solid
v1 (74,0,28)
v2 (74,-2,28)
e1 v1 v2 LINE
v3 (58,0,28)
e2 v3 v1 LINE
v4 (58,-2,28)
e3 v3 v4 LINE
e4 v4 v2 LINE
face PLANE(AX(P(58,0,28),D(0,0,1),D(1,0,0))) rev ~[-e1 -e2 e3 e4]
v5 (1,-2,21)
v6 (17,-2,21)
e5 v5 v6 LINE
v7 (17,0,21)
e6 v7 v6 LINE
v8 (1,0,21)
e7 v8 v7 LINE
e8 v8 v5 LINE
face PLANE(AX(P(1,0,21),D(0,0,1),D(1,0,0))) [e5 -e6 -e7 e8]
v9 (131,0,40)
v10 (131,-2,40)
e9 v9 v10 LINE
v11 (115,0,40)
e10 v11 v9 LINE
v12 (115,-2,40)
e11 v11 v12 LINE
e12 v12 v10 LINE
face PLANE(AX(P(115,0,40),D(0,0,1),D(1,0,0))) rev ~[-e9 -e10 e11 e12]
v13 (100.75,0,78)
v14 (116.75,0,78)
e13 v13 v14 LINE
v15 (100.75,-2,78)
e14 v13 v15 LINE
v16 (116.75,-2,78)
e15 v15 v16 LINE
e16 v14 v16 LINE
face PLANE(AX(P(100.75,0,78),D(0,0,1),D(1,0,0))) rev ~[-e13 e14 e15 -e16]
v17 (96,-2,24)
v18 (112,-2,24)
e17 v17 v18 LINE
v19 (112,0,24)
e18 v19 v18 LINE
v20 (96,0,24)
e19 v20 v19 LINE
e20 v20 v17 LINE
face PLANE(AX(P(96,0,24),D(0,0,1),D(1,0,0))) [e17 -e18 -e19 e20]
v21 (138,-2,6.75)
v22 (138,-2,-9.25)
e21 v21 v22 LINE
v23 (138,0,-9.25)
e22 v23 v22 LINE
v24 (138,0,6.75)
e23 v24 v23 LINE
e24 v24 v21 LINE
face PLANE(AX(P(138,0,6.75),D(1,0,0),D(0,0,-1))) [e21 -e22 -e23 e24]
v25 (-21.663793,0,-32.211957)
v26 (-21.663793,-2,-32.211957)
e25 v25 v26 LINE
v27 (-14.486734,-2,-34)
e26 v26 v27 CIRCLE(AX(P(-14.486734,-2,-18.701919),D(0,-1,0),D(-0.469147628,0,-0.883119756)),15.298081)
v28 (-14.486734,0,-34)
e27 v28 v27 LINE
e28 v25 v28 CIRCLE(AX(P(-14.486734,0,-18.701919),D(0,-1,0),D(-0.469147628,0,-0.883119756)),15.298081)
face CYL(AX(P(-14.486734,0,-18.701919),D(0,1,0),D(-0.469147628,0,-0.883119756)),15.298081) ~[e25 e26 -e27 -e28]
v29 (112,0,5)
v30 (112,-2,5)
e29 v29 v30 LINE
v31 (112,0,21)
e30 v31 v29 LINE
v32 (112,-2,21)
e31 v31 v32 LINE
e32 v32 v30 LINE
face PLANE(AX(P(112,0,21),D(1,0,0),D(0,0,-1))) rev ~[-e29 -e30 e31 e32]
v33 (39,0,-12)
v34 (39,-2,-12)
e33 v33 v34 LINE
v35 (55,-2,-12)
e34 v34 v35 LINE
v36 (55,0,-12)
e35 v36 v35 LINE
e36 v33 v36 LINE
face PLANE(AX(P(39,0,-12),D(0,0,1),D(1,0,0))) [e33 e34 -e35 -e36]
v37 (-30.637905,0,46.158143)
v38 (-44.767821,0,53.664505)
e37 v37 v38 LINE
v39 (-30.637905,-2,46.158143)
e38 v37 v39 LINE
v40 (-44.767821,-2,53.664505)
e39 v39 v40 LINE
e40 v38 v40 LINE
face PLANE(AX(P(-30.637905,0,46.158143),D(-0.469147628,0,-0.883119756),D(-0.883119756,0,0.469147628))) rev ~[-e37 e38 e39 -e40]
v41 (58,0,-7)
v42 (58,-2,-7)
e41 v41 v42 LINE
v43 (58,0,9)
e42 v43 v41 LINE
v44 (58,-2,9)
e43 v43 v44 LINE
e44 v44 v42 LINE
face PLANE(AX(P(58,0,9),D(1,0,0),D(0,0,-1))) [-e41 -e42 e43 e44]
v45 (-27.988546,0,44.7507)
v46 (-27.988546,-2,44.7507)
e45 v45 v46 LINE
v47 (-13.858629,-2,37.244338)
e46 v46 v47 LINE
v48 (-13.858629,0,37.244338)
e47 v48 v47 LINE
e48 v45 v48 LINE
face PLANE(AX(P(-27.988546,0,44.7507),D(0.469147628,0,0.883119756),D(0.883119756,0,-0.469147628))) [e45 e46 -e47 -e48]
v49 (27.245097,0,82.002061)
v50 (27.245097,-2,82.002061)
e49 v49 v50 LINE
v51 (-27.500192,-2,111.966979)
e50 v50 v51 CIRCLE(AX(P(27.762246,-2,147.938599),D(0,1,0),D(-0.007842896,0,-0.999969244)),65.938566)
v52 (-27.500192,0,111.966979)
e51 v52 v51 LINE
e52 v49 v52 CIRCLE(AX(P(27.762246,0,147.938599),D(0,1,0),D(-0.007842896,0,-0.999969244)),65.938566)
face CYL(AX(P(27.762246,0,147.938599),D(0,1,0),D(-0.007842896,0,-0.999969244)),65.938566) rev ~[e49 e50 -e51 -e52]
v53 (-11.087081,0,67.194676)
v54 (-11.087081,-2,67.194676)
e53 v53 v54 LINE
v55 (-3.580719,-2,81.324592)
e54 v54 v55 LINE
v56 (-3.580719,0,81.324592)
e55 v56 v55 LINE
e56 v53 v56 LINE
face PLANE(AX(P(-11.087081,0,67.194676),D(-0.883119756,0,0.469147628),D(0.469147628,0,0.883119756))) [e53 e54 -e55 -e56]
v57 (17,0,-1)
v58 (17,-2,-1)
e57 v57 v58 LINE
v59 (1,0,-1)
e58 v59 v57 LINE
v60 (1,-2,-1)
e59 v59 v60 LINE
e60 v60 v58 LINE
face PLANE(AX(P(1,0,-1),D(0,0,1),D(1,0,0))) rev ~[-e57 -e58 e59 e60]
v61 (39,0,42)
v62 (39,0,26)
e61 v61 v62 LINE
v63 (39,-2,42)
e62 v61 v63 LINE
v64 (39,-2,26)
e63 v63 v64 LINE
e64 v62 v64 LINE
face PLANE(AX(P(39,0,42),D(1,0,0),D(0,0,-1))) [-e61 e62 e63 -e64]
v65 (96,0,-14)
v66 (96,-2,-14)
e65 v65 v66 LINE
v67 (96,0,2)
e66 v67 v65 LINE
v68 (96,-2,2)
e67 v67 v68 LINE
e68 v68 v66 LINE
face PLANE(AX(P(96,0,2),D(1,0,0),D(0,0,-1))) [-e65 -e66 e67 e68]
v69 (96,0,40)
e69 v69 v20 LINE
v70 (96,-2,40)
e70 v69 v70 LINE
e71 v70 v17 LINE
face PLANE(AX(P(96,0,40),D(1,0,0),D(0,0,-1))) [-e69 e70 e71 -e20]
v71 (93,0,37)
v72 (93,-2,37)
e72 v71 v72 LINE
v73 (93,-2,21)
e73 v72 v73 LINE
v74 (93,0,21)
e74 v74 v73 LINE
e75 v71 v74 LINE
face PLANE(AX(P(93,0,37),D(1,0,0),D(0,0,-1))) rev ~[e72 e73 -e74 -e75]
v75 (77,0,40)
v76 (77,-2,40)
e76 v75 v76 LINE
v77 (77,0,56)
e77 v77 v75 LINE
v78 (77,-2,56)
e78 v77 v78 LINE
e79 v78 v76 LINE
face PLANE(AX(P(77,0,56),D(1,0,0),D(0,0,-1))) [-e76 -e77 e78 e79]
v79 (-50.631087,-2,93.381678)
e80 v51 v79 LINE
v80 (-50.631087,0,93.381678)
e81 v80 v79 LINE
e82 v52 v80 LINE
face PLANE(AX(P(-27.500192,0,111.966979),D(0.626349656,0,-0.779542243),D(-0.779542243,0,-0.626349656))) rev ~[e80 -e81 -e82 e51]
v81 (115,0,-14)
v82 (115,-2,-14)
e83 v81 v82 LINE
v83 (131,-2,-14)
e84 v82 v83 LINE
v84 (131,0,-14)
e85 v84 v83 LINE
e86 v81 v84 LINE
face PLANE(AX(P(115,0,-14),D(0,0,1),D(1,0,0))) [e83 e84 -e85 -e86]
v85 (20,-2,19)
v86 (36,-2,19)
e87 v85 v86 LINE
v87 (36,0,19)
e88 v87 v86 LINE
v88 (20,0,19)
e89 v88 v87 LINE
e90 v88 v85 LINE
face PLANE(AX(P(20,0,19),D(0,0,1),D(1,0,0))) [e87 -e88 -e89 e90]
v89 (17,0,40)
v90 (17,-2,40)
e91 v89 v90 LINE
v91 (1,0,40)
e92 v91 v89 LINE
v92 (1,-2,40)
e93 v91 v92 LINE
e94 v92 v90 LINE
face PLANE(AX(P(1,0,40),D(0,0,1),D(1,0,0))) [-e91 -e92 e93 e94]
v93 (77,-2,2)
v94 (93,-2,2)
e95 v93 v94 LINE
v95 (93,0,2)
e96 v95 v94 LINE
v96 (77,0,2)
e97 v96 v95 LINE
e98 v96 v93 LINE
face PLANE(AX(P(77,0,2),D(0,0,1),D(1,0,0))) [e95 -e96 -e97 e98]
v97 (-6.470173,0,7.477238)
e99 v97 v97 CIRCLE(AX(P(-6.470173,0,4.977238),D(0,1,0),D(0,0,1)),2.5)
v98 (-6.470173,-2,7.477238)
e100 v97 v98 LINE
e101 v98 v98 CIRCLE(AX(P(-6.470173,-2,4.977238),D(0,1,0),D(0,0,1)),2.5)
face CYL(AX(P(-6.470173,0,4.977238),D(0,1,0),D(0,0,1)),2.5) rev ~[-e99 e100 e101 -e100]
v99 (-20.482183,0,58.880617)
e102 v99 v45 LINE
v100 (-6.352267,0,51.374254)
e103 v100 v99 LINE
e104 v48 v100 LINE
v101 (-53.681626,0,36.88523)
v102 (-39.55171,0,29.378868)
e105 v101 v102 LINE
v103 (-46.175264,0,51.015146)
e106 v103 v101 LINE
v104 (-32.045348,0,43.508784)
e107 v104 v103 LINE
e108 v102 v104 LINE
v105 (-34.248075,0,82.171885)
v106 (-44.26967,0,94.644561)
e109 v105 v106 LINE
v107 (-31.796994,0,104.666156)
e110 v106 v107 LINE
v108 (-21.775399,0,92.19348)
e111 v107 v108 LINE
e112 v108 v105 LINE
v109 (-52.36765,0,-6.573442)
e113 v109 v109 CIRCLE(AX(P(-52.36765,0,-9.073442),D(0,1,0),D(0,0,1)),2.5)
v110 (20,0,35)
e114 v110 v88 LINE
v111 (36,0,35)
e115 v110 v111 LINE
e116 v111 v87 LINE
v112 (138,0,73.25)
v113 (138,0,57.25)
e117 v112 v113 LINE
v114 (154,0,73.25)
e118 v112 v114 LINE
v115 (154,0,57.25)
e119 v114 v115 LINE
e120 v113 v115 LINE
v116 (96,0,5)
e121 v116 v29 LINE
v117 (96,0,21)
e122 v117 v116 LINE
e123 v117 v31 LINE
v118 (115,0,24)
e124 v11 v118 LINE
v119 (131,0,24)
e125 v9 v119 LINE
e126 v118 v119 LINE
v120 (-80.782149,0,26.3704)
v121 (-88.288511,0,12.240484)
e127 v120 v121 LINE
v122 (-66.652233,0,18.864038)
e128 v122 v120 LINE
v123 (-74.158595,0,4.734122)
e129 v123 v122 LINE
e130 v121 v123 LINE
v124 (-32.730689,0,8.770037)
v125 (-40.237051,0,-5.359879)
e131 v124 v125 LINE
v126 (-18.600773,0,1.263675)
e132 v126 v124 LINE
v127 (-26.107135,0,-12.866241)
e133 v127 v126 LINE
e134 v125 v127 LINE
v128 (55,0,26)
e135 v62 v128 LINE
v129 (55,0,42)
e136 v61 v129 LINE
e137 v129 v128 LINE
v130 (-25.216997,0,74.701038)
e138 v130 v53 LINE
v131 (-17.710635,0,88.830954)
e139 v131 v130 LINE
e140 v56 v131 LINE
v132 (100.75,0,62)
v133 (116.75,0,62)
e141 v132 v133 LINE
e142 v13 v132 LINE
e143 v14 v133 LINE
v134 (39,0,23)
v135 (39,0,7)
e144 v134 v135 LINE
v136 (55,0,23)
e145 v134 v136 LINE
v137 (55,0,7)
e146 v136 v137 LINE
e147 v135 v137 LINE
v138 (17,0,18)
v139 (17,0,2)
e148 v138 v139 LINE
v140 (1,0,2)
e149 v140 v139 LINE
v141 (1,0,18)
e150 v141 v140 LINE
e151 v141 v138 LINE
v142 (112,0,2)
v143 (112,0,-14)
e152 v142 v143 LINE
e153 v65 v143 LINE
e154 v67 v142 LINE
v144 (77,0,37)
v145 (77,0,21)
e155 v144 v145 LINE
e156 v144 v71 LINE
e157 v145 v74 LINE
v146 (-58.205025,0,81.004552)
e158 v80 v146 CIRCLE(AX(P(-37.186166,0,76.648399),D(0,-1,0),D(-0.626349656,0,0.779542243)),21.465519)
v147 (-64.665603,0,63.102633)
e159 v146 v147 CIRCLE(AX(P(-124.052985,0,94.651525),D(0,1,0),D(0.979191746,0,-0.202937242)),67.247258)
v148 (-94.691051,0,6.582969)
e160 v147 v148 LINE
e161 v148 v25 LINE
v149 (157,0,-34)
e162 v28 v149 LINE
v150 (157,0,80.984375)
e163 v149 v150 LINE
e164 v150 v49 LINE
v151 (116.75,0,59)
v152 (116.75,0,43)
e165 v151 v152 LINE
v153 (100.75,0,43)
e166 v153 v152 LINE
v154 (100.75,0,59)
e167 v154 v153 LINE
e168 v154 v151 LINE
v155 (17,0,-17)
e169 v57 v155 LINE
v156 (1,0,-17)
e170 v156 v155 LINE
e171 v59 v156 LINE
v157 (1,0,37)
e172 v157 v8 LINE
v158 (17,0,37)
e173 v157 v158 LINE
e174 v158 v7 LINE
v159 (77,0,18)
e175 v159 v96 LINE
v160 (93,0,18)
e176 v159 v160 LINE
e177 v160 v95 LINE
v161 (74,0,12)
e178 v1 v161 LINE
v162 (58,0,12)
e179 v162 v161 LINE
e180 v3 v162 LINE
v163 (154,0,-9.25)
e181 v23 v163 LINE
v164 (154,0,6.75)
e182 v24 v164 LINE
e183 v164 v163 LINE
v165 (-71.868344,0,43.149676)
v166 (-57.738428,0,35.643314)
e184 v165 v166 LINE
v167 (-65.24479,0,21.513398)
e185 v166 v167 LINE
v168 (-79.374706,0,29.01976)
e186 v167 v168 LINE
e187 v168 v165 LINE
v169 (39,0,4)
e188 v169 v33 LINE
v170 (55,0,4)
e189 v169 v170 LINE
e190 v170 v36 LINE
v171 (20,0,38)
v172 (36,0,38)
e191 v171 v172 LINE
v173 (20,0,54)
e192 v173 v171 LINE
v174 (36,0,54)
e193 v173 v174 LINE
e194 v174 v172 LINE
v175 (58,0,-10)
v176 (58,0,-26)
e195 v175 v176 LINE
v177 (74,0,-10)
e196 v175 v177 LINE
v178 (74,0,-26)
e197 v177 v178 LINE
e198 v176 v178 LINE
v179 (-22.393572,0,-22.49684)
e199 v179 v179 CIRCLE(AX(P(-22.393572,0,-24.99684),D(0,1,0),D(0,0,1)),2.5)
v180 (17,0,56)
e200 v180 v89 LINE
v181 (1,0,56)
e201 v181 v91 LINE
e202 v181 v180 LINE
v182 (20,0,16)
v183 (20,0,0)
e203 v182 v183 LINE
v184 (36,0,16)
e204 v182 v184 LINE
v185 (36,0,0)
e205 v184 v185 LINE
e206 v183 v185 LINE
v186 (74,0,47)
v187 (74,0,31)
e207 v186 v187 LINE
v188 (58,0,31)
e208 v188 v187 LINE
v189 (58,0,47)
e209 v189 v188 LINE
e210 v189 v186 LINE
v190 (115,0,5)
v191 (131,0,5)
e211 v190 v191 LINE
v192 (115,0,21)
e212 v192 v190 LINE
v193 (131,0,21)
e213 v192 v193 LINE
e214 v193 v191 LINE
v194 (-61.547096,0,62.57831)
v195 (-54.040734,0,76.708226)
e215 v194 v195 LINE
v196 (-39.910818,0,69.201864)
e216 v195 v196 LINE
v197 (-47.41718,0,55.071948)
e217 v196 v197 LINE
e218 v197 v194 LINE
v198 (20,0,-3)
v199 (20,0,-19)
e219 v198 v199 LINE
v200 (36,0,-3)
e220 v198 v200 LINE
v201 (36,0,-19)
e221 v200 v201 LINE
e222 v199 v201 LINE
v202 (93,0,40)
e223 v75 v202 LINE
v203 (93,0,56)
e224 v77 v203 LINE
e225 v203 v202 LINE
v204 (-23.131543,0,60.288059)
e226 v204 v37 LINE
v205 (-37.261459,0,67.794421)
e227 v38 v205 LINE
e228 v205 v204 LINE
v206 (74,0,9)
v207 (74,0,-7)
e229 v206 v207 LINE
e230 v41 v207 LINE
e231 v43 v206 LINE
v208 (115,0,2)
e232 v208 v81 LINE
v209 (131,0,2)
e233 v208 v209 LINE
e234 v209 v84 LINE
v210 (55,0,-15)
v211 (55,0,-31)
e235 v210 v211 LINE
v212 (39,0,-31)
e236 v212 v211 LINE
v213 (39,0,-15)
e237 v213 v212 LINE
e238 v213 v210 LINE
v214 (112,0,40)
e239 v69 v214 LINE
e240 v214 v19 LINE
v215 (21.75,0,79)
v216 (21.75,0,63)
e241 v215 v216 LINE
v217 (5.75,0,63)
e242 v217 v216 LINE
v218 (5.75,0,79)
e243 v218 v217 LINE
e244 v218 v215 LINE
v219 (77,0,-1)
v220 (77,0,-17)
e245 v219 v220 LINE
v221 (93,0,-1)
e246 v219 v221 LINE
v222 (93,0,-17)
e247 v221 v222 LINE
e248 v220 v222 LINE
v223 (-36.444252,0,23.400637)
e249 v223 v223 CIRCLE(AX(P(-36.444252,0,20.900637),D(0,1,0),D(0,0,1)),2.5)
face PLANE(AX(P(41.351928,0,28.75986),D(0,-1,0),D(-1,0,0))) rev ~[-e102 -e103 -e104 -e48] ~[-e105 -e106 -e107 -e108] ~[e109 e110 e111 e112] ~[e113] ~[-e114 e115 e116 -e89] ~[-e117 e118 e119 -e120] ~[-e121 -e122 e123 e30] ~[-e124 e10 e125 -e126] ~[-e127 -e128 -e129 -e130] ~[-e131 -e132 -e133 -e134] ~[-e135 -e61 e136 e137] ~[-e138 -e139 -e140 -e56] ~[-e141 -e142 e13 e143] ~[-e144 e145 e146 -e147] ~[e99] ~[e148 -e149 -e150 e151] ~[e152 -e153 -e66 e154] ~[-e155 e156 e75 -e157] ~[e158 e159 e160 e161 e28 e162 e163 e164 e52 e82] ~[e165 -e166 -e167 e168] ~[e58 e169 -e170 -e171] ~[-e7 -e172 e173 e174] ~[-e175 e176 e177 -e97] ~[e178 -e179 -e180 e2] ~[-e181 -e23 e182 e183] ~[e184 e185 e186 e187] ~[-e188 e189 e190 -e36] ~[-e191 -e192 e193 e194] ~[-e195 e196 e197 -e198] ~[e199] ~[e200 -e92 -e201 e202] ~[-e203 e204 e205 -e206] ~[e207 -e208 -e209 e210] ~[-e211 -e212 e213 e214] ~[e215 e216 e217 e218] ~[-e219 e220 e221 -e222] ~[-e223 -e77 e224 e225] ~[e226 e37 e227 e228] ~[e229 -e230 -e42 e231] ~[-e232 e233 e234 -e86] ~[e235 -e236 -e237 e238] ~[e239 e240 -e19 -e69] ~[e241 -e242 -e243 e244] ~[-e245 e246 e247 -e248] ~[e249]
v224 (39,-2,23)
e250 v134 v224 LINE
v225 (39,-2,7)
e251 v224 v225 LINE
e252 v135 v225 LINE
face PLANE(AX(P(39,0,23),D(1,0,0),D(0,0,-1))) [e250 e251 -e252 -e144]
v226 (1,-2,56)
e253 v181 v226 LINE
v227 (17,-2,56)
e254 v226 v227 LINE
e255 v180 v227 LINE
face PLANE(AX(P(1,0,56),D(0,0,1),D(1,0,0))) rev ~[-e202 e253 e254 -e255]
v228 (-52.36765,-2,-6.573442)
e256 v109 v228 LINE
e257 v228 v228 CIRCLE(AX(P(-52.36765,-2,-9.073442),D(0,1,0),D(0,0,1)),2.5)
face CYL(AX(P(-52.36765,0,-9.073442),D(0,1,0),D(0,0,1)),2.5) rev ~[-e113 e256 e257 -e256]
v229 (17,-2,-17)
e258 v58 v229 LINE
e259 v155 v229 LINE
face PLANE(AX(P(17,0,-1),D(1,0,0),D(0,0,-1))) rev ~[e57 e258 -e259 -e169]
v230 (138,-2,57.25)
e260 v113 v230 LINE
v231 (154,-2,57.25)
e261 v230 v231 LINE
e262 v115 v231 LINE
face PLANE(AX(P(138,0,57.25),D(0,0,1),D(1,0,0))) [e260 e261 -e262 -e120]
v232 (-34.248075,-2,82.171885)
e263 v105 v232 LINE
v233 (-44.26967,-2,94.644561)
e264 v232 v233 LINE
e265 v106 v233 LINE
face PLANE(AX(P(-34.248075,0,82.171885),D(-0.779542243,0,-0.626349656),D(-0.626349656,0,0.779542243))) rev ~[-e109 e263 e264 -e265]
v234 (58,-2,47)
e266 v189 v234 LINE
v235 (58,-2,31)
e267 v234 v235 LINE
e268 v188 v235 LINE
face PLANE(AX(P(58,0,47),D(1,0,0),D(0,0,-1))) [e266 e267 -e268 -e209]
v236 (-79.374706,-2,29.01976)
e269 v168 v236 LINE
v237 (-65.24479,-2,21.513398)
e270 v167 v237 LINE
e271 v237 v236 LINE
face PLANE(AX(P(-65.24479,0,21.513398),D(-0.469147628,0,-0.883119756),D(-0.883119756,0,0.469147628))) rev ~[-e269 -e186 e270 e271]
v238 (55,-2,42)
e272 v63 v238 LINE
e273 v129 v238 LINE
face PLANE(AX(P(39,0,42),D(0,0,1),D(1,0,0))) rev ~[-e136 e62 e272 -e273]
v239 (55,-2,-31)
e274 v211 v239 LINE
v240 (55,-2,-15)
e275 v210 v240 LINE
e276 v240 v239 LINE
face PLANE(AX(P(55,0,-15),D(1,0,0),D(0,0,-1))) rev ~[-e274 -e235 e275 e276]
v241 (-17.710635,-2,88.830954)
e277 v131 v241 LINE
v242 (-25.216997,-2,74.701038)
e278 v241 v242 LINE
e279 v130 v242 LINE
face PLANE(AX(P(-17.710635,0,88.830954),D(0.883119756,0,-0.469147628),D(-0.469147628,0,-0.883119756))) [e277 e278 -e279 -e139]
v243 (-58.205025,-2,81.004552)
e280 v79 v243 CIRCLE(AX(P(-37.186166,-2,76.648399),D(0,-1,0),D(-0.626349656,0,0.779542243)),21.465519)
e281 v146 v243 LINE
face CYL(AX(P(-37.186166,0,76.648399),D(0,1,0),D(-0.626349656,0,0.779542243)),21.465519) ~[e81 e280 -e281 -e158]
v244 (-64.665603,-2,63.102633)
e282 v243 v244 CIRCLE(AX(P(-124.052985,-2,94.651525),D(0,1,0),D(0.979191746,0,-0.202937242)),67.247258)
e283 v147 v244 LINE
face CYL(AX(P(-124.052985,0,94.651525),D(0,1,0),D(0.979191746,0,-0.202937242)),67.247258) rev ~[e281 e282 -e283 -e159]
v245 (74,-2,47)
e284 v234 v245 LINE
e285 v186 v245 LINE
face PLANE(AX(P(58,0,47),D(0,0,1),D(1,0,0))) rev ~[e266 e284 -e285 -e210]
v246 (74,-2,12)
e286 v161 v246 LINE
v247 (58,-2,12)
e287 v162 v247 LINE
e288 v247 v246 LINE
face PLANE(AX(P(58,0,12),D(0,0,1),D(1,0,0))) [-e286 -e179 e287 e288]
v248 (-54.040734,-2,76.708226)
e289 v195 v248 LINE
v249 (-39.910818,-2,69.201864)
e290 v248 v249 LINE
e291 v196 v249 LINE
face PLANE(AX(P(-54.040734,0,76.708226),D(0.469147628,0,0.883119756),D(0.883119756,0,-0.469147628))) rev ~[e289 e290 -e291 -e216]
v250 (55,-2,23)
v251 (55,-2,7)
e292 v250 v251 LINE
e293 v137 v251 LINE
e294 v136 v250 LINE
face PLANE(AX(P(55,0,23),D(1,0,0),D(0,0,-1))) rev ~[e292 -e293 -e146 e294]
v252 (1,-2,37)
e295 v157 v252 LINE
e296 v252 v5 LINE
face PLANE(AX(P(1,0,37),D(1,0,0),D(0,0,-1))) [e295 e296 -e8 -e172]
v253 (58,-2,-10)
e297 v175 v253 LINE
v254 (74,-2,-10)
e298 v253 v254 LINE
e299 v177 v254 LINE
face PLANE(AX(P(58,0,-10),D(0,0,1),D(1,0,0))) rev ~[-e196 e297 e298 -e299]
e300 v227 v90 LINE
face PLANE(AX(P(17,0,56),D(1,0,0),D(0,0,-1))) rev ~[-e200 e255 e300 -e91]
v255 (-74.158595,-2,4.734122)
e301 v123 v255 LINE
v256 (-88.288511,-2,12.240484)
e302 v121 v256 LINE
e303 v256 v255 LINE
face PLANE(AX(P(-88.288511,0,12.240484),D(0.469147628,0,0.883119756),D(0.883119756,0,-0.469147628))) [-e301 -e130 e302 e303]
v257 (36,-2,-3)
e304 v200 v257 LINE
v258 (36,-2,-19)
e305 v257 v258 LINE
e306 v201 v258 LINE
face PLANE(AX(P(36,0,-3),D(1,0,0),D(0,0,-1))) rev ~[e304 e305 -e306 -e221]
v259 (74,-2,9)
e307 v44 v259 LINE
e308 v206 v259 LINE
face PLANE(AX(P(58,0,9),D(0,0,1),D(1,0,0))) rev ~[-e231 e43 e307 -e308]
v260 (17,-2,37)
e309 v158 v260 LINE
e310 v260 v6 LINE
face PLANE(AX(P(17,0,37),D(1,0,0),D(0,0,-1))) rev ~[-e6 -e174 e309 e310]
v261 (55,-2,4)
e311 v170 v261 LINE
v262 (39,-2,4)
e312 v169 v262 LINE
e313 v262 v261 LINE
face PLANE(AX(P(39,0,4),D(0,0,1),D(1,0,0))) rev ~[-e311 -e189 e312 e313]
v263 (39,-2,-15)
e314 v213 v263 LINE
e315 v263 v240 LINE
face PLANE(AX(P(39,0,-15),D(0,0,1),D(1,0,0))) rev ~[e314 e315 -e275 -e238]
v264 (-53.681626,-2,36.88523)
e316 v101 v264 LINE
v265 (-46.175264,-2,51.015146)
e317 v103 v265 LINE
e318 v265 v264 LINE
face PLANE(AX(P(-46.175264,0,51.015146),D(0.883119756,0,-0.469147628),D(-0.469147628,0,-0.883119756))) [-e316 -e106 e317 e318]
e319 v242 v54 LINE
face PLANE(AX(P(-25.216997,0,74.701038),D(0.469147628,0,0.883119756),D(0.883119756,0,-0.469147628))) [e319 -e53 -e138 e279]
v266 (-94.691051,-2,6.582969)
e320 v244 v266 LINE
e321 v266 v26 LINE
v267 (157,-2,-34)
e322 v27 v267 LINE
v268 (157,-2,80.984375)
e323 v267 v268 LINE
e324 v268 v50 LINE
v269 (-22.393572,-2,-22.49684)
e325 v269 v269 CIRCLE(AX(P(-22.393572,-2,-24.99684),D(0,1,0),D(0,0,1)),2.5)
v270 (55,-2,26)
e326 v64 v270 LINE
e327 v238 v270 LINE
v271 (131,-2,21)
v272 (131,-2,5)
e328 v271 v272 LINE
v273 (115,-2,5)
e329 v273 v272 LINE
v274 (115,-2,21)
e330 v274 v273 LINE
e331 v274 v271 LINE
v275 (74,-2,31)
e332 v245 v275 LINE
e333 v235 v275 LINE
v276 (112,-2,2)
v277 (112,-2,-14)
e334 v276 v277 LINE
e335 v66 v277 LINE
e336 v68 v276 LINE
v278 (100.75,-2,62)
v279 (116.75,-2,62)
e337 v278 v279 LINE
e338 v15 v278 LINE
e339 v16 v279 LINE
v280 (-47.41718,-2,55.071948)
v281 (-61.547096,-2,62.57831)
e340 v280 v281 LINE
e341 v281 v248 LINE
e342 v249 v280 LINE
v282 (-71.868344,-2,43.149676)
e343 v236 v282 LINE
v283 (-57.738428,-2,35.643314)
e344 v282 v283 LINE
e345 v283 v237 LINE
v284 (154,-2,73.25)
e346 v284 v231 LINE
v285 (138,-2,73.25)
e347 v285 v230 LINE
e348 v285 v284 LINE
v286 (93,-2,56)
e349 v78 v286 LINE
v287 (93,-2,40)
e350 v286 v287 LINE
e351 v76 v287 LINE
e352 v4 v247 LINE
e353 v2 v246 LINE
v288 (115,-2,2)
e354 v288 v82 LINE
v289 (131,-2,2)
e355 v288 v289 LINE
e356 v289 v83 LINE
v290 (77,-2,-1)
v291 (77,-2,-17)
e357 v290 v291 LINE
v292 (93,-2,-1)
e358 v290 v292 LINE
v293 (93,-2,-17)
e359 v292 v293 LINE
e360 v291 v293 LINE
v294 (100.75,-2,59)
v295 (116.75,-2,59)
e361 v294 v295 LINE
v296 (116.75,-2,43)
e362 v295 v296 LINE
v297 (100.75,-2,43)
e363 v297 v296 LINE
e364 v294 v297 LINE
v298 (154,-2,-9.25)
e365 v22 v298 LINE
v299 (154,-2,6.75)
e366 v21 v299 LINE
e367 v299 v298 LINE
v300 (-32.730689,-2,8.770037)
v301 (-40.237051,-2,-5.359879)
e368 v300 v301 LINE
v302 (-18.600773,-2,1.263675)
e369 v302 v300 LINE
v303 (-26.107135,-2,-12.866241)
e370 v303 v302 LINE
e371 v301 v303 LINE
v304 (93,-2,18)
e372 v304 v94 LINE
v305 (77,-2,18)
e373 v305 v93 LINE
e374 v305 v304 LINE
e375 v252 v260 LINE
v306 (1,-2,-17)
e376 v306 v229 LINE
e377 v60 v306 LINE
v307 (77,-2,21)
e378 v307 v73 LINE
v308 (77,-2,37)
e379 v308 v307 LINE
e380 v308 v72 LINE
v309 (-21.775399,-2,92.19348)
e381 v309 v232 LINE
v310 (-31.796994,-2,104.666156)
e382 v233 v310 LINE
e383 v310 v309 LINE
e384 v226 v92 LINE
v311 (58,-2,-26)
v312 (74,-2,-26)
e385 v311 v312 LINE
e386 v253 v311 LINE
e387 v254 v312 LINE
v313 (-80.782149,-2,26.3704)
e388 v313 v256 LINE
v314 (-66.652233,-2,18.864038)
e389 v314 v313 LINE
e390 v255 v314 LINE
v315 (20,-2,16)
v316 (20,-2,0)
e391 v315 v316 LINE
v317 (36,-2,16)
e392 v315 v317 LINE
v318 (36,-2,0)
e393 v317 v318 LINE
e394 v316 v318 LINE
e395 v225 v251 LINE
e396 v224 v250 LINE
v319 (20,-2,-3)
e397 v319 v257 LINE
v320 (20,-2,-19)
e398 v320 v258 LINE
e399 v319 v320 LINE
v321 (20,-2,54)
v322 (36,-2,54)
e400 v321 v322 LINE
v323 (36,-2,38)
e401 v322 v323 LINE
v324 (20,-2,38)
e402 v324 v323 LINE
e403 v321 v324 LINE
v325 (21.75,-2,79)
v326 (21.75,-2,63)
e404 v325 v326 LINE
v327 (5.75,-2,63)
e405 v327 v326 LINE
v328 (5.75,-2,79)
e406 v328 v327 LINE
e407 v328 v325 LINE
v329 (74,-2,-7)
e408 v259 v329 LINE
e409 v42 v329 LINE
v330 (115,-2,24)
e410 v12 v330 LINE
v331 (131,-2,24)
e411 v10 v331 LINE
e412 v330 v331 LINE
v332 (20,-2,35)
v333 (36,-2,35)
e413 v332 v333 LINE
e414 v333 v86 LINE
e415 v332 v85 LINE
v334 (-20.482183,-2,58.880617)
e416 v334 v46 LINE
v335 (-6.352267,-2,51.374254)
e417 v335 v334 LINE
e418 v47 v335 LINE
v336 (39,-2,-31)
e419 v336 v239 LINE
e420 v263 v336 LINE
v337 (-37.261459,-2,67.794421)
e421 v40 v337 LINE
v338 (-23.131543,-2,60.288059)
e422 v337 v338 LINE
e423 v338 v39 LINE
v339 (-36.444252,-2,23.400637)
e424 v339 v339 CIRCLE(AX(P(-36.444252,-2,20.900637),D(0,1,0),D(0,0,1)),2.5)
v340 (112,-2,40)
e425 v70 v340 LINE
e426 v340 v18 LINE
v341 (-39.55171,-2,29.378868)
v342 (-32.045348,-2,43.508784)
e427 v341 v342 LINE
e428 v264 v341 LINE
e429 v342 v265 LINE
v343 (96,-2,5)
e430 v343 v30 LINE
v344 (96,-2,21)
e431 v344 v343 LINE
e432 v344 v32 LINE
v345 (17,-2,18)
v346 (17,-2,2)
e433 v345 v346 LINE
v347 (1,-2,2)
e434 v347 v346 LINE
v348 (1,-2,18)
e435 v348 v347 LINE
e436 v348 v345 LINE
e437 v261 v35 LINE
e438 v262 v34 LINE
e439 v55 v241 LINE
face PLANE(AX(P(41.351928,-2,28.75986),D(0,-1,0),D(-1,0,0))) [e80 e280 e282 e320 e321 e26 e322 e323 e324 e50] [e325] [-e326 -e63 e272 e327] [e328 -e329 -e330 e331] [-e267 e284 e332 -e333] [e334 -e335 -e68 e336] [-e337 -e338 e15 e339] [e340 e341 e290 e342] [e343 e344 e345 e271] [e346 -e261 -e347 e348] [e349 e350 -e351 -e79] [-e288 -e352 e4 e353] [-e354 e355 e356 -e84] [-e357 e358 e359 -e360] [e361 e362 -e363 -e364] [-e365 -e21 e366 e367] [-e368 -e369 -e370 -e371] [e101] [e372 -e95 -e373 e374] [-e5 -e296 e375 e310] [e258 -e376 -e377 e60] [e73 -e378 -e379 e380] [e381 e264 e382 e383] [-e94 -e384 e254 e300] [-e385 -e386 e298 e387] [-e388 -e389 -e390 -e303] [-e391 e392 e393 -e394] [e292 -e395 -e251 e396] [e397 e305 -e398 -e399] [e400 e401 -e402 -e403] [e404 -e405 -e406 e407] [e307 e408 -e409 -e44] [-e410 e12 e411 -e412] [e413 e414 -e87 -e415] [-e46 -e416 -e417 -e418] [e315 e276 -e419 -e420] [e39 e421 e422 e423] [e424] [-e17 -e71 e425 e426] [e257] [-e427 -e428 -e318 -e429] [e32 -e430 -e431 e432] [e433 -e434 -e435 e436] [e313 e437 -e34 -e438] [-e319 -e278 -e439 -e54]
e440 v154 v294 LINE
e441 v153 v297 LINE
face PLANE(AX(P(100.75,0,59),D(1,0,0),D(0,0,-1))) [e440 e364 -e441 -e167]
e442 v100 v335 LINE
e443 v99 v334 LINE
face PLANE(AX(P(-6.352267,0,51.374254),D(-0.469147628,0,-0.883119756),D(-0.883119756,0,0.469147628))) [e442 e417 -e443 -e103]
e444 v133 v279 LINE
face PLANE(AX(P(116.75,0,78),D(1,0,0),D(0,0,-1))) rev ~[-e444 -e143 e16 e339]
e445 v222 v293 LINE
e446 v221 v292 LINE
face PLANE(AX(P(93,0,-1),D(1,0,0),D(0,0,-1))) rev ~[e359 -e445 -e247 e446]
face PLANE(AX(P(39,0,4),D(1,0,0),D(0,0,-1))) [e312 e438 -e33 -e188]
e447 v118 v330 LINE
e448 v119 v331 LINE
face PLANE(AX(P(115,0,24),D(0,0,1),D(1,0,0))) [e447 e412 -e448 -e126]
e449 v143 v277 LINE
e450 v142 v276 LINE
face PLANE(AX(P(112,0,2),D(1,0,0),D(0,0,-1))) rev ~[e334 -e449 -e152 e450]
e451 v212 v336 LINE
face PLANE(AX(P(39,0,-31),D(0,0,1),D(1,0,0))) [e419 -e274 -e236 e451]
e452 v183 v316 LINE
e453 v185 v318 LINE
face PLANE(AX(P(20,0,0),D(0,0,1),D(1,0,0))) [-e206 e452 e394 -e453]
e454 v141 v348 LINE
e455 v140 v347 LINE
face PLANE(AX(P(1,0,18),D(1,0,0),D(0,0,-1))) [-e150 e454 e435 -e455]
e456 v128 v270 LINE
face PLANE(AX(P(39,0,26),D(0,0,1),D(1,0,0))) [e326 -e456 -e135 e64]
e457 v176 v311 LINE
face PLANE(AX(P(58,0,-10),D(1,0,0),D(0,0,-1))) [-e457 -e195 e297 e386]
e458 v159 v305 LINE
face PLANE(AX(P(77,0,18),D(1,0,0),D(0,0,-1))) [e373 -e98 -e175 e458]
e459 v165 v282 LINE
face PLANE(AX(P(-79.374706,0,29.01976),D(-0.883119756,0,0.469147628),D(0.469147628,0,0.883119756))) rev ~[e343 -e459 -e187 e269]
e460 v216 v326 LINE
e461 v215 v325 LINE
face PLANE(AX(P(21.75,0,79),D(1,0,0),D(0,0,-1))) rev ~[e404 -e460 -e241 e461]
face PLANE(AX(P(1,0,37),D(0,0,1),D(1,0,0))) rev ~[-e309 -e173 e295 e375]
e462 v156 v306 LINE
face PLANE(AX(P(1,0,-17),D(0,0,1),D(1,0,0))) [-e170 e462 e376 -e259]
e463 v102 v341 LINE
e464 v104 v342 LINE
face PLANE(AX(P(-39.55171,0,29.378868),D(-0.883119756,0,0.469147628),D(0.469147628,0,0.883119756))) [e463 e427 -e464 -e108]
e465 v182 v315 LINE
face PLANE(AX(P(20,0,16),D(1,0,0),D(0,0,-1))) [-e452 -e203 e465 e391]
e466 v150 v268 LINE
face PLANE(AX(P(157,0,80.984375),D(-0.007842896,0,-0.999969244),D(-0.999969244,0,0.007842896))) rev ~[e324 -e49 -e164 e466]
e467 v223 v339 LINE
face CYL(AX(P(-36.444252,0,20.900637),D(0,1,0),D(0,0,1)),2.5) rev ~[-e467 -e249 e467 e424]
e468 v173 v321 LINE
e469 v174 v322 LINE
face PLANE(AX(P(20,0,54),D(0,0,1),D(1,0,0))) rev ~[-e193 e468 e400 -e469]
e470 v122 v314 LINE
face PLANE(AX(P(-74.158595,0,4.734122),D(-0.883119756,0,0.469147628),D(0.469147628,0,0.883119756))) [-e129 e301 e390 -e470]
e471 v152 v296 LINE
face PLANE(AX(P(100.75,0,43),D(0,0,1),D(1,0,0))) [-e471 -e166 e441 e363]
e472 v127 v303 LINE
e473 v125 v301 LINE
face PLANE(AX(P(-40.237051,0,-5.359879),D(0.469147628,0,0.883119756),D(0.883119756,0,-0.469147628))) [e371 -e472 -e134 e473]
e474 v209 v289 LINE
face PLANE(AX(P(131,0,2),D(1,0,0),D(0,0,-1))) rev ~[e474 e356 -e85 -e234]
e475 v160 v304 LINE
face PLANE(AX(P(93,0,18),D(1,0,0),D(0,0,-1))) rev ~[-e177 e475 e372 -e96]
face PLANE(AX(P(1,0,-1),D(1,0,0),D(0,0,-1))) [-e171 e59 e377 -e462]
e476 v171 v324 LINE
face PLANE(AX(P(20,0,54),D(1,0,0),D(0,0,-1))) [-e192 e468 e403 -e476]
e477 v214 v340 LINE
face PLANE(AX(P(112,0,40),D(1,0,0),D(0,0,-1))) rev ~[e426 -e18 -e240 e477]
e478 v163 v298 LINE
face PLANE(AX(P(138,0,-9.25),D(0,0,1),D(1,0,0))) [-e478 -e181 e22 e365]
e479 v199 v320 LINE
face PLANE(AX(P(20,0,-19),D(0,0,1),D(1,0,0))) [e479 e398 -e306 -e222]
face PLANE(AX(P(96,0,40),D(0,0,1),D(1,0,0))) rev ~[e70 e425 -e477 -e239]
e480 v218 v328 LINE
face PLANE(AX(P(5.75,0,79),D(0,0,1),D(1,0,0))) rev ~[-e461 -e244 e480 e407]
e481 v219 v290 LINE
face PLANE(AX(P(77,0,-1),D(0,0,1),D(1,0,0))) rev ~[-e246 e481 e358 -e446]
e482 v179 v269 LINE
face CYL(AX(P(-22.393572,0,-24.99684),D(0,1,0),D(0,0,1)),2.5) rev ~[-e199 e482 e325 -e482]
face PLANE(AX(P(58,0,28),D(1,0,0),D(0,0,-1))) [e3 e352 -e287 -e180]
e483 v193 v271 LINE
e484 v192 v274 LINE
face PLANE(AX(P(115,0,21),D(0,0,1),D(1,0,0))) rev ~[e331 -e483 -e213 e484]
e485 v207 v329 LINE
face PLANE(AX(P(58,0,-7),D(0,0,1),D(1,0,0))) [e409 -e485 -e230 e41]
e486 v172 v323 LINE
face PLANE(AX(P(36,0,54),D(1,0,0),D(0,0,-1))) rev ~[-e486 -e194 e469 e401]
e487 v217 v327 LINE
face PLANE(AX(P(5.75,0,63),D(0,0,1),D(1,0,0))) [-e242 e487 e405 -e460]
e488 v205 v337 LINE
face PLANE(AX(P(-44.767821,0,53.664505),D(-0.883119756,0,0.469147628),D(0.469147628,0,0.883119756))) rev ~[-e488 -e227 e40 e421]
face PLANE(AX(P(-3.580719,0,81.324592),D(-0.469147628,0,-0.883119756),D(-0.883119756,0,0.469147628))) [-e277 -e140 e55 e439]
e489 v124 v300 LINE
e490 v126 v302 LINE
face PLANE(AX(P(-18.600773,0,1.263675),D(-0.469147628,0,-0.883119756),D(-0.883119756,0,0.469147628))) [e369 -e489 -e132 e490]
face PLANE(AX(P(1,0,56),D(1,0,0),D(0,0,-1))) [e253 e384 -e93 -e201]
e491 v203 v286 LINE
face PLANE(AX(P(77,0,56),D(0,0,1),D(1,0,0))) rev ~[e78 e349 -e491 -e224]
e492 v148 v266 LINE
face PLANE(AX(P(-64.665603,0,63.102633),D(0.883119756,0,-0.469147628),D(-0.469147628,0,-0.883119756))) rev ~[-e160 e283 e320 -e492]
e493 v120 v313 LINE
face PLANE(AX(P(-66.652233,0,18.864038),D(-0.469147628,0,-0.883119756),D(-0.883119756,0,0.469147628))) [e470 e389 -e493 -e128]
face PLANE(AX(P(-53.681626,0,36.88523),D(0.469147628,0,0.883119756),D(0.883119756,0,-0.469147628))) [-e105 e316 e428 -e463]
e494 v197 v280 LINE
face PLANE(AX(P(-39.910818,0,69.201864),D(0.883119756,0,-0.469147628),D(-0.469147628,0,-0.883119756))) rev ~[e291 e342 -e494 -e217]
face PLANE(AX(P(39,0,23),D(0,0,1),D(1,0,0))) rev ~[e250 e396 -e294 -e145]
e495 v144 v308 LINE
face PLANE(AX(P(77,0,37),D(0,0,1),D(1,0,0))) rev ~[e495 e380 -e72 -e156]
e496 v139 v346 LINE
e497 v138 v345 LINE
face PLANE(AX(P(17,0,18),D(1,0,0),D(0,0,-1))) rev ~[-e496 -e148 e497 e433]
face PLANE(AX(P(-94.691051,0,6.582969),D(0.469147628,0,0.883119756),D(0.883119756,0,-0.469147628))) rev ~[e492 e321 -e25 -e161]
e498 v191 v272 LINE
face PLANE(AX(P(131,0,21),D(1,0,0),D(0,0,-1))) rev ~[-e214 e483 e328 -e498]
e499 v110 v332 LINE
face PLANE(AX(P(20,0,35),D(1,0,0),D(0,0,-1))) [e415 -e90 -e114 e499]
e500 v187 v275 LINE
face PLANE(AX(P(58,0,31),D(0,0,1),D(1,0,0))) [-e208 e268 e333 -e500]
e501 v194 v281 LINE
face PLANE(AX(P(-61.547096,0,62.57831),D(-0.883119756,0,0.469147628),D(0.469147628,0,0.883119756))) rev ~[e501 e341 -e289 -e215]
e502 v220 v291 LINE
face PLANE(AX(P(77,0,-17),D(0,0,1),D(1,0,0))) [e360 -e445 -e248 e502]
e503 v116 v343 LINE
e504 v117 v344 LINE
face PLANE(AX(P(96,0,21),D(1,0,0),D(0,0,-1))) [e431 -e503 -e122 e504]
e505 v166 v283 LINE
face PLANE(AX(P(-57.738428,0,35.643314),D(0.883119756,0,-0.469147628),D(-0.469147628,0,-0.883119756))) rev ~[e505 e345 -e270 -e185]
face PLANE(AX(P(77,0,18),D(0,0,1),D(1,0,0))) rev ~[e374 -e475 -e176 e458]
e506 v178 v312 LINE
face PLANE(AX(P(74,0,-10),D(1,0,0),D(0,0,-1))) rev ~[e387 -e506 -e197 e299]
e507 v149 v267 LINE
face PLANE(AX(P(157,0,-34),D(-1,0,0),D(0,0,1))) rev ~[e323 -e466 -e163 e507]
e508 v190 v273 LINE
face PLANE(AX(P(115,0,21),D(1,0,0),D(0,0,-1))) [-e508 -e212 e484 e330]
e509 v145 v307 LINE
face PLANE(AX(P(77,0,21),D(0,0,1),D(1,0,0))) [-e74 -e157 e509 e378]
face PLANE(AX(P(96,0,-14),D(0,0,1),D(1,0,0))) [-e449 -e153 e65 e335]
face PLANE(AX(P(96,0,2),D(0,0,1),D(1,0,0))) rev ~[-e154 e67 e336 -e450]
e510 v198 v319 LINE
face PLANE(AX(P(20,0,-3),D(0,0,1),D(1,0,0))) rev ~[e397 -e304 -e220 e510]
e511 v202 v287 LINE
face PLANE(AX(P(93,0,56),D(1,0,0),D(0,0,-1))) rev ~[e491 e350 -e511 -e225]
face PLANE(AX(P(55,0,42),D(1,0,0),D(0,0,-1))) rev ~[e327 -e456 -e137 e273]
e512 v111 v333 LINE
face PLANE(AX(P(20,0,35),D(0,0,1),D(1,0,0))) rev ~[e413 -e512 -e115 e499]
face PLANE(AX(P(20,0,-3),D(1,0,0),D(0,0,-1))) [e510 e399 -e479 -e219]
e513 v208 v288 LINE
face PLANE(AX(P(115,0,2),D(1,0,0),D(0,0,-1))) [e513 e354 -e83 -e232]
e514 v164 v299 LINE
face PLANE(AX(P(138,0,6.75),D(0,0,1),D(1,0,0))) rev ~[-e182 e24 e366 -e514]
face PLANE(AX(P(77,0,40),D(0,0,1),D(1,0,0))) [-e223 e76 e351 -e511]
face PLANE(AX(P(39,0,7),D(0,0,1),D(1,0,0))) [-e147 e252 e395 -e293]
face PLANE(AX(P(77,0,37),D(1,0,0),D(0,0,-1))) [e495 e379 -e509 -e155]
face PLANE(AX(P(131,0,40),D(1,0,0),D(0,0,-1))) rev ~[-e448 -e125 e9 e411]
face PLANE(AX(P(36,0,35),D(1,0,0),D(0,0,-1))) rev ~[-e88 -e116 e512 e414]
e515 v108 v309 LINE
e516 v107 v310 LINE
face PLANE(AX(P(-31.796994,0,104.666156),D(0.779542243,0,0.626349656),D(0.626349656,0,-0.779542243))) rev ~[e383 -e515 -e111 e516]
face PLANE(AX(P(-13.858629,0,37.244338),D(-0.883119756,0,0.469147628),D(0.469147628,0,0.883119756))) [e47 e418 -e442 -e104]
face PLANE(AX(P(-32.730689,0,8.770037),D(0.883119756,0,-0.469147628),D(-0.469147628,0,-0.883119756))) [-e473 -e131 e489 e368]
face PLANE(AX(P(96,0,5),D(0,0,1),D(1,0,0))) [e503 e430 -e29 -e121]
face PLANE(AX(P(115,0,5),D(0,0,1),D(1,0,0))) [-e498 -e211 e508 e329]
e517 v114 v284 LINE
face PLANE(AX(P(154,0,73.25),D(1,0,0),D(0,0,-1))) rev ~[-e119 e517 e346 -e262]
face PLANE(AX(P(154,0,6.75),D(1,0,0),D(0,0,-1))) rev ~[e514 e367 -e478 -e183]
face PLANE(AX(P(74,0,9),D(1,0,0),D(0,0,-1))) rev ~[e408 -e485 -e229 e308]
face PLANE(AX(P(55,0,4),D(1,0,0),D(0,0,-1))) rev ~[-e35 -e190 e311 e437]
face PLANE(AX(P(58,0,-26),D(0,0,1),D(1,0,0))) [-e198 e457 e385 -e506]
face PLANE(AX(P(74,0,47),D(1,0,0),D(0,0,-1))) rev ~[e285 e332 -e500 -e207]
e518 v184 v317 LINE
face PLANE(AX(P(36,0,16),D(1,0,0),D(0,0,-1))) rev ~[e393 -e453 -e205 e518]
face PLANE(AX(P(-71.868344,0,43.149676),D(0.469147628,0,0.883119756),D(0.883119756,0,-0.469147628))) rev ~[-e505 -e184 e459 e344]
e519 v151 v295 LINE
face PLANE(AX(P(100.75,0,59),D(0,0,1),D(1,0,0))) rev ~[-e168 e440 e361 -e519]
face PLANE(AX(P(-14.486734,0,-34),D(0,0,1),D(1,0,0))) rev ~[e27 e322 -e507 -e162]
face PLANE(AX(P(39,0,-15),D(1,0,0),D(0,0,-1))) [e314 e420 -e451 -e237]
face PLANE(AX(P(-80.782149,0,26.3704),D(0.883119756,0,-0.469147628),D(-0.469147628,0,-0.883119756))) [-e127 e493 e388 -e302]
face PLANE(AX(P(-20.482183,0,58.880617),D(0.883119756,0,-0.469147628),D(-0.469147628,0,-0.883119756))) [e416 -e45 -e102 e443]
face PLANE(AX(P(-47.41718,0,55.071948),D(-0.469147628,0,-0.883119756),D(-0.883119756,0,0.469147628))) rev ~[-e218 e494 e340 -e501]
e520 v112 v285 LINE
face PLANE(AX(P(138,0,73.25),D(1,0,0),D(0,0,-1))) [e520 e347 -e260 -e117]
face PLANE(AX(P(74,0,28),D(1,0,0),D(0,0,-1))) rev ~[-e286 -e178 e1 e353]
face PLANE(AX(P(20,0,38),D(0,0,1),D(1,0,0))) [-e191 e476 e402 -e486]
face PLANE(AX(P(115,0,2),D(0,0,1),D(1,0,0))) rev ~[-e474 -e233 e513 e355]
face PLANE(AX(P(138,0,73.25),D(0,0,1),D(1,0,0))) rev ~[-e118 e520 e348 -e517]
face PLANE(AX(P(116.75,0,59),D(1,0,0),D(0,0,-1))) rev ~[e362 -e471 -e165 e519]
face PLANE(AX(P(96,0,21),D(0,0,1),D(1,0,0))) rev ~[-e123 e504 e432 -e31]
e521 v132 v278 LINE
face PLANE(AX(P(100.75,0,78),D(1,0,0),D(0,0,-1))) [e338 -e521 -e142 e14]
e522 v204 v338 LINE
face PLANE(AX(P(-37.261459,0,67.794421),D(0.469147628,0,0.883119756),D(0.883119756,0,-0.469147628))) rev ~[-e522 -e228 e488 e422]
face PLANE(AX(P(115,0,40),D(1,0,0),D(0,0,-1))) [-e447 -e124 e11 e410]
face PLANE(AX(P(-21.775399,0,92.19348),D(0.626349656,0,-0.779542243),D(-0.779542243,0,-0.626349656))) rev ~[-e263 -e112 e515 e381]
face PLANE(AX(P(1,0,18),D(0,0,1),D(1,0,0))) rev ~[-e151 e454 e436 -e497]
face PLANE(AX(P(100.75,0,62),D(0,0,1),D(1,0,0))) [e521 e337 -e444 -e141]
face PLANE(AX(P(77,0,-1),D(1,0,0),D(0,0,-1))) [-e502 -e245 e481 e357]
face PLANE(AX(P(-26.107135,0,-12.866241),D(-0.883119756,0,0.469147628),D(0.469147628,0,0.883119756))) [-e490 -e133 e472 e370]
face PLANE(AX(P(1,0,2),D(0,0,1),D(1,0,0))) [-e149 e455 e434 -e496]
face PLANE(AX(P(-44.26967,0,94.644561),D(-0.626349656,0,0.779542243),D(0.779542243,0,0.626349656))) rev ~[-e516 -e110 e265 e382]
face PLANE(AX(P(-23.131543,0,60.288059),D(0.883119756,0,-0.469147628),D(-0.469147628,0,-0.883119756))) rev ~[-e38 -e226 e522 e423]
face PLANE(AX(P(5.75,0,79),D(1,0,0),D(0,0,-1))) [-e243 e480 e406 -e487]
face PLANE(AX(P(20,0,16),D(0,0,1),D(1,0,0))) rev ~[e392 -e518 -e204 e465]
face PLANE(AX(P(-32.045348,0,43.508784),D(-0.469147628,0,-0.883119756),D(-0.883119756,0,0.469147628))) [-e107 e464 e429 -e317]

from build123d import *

# Parameters (mm, degrees)
SKETCH3_R   = 2.5
SKETCH3_W   = 16
SKETCH3_H   = 16
LASER_DEPTH = 2


with BuildPart() as part:
    # Sketch3 → Laser (new body)
    with BuildSketch(Plane(origin=(0, 0, 0), x_dir=(1, 0, 0), z_dir=(0, 1, 0))):
        with BuildLine():
            Line((-94.691051343, -6.582969065), (-21.663792567, 32.211956563))
            ThreePointArc((-21.663792567, 32.211956563), (-18.18495221, 33.546260198), (-14.486734177, 34))
            Line((-14.486734177, 34), (157, 34))
            Line((157, 34), (157, -80.984375239))
            Line((157, -80.984375239), (27.245097002, -82.002060753))
            ThreePointArc((27.245097002, -82.002060753), (-3.897107576, -90.097611519), (-27.500192145, -111.966979298))
            Line((-27.500192145, -111.966979298), (-50.631086639, -93.38167756))
            ThreePointArc((-50.631086639, -93.38167756), (-55.49562639, -87.852512852), (-58.20502519, -81.004552024))
            ThreePointArc((-58.20502519, -81.004552024), (-60.798796423, -71.823881458), (-64.66560314, -63.102633435))
            Line((-64.66560314, -63.102633435), (-94.691051343, -6.582969065))
        make_face()
        with Locations(Location((-22.393572022, 24.996840478, 0), (0, 0, 270))):
            Circle(SKETCH3_R, mode=Mode.SUBTRACT)
        with Locations(Location((-6.470173498, -4.977237981, 0), (0, 0, 270))):
            Circle(SKETCH3_R, mode=Mode.SUBTRACT)
        with Locations(Location((-36.444251957, -20.900636504, 0), (0, 0, 270))):
            Circle(SKETCH3_R, mode=Mode.SUBTRACT)
        with Locations(Location((-52.367650481, 9.073441955, 0), (0, 0, 270))):
            Circle(SKETCH3_R, mode=Mode.SUBTRACT)
        with Locations((9, -10)):
            Rectangle(SKETCH3_W, SKETCH3_H, mode=Mode.SUBTRACT)
        with Locations((9, 9)):
            Rectangle(SKETCH3_W, SKETCH3_H, mode=Mode.SUBTRACT)
        with Locations((28, 11)):
            Rectangle(SKETCH3_W, SKETCH3_H, mode=Mode.SUBTRACT)
        with Locations((47, 23)):
            Rectangle(SKETCH3_W, SKETCH3_H, mode=Mode.SUBTRACT)
        with Locations((66, 18)):
            Rectangle(SKETCH3_W, SKETCH3_H, mode=Mode.SUBTRACT)
        with Locations((85, 9)):
            Rectangle(SKETCH3_W, SKETCH3_H, mode=Mode.SUBTRACT)
        with Locations((104, 6)):
            Rectangle(SKETCH3_W, SKETCH3_H, mode=Mode.SUBTRACT)
        with Locations((123, 6)):
            Rectangle(SKETCH3_W, SKETCH3_H, mode=Mode.SUBTRACT)
        with Locations((146, 1.25)):
            Rectangle(SKETCH3_W, SKETCH3_H, mode=Mode.SUBTRACT)
        with Locations((146, -65.25)):
            Rectangle(SKETCH3_W, SKETCH3_H, mode=Mode.SUBTRACT)
        with Locations((28, -8)):
            Rectangle(SKETCH3_W, SKETCH3_H, mode=Mode.SUBTRACT)
        with Locations((47, 4)):
            Rectangle(SKETCH3_W, SKETCH3_H, mode=Mode.SUBTRACT)
        with Locations((66, -1)):
            Rectangle(SKETCH3_W, SKETCH3_H, mode=Mode.SUBTRACT)
        with Locations((85, -10)):
            Rectangle(SKETCH3_W, SKETCH3_H, mode=Mode.SUBTRACT)
        with Locations((104, -13)):
            Rectangle(SKETCH3_W, SKETCH3_H, mode=Mode.SUBTRACT)
        with Locations((123, -13)):
            Rectangle(SKETCH3_W, SKETCH3_H, mode=Mode.SUBTRACT)
        with Locations((9, -29)):
            Rectangle(SKETCH3_W, SKETCH3_H, mode=Mode.SUBTRACT)
        with Locations((28, -27)):
            Rectangle(SKETCH3_W, SKETCH3_H, mode=Mode.SUBTRACT)
        with Locations((47, -15)):
            Rectangle(SKETCH3_W, SKETCH3_H, mode=Mode.SUBTRACT)
        with Locations((66, -20)):
            Rectangle(SKETCH3_W, SKETCH3_H, mode=Mode.SUBTRACT)
        with Locations((85, -29)):
            Rectangle(SKETCH3_W, SKETCH3_H, mode=Mode.SUBTRACT)
        with Locations((104, -32)):
            Rectangle(SKETCH3_W, SKETCH3_H, mode=Mode.SUBTRACT)
        with Locations((123, -32)):
            Rectangle(SKETCH3_W, SKETCH3_H, mode=Mode.SUBTRACT)
        with Locations((9, -48)):
            Rectangle(SKETCH3_W, SKETCH3_H, mode=Mode.SUBTRACT)
        with Locations((28, -46)):
            Rectangle(SKETCH3_W, SKETCH3_H, mode=Mode.SUBTRACT)
        with Locations((47, -34)):
            Rectangle(SKETCH3_W, SKETCH3_H, mode=Mode.SUBTRACT)
        with Locations((66, -39)):
            Rectangle(SKETCH3_W, SKETCH3_H, mode=Mode.SUBTRACT)
        with Locations((85, -48)):
            Rectangle(SKETCH3_W, SKETCH3_H, mode=Mode.SUBTRACT)
        Polygon((-88.288511049, -12.240484229), (-74.158594957, -4.734122178), (-66.652232907, -18.86403827), (-80.782148999, -26.370400321), align=None, mode=Mode.SUBTRACT)
        with Locations((13.75, -71)):
            Rectangle(SKETCH3_W, SKETCH3_H, mode=Mode.SUBTRACT)
        with Locations((108.75, -51)):
            Rectangle(SKETCH3_W, SKETCH3_H, mode=Mode.SUBTRACT)
        with Locations((108.75, -70)):
            Rectangle(SKETCH3_W, SKETCH3_H, mode=Mode.SUBTRACT)
        Polygon((-65.244790023, -21.513397538), (-79.374706115, -29.019759588), (-71.868344064, -43.14967568), (-57.738427972, -35.64331363), align=None, mode=Mode.SUBTRACT)
        Polygon((-53.68162582, -36.885230013), (-39.551709728, -29.378867962), (-32.045347678, -43.508784054), (-46.17526377, -51.015146105), align=None, mode=Mode.SUBTRACT)
        Polygon((-27.988545526, -44.750700437), (-13.858629434, -37.244338387), (-6.352267384, -51.374254479), (-20.482183476, -58.880616529), align=None, mode=Mode.SUBTRACT)
        Polygon((-30.637904794, -46.158143322), (-44.767820886, -53.664505372), (-37.261458835, -67.794421464), (-23.131542743, -60.288059414), align=None, mode=Mode.SUBTRACT)
        Polygon((-47.417180153, -55.071948256), (-61.547096245, -62.578310307), (-54.040734195, -76.708226399), (-39.910818103, -69.201864348), align=None, mode=Mode.SUBTRACT)
        Polygon((-34.248075282, -82.171885463), (-44.269669774, -94.644561352), (-31.796993885, -104.666155844), (-21.775399393, -92.193479955), align=None, mode=Mode.SUBTRACT)
        Polygon((-25.21699676, -74.701037634), (-11.087080668, -67.194675584), (-3.580718618, -81.324591676), (-17.71063471, -88.830953726), align=None, mode=Mode.SUBTRACT)
        Polygon((-40.237051061, 5.359879008), (-26.107134969, 12.866241058), (-18.600772918, -1.263675034), (-32.73068901, -8.770037084), align=None, mode=Mode.SUBTRACT)
    extrude(amount=-LASER_DEPTH)


solid = part.part
